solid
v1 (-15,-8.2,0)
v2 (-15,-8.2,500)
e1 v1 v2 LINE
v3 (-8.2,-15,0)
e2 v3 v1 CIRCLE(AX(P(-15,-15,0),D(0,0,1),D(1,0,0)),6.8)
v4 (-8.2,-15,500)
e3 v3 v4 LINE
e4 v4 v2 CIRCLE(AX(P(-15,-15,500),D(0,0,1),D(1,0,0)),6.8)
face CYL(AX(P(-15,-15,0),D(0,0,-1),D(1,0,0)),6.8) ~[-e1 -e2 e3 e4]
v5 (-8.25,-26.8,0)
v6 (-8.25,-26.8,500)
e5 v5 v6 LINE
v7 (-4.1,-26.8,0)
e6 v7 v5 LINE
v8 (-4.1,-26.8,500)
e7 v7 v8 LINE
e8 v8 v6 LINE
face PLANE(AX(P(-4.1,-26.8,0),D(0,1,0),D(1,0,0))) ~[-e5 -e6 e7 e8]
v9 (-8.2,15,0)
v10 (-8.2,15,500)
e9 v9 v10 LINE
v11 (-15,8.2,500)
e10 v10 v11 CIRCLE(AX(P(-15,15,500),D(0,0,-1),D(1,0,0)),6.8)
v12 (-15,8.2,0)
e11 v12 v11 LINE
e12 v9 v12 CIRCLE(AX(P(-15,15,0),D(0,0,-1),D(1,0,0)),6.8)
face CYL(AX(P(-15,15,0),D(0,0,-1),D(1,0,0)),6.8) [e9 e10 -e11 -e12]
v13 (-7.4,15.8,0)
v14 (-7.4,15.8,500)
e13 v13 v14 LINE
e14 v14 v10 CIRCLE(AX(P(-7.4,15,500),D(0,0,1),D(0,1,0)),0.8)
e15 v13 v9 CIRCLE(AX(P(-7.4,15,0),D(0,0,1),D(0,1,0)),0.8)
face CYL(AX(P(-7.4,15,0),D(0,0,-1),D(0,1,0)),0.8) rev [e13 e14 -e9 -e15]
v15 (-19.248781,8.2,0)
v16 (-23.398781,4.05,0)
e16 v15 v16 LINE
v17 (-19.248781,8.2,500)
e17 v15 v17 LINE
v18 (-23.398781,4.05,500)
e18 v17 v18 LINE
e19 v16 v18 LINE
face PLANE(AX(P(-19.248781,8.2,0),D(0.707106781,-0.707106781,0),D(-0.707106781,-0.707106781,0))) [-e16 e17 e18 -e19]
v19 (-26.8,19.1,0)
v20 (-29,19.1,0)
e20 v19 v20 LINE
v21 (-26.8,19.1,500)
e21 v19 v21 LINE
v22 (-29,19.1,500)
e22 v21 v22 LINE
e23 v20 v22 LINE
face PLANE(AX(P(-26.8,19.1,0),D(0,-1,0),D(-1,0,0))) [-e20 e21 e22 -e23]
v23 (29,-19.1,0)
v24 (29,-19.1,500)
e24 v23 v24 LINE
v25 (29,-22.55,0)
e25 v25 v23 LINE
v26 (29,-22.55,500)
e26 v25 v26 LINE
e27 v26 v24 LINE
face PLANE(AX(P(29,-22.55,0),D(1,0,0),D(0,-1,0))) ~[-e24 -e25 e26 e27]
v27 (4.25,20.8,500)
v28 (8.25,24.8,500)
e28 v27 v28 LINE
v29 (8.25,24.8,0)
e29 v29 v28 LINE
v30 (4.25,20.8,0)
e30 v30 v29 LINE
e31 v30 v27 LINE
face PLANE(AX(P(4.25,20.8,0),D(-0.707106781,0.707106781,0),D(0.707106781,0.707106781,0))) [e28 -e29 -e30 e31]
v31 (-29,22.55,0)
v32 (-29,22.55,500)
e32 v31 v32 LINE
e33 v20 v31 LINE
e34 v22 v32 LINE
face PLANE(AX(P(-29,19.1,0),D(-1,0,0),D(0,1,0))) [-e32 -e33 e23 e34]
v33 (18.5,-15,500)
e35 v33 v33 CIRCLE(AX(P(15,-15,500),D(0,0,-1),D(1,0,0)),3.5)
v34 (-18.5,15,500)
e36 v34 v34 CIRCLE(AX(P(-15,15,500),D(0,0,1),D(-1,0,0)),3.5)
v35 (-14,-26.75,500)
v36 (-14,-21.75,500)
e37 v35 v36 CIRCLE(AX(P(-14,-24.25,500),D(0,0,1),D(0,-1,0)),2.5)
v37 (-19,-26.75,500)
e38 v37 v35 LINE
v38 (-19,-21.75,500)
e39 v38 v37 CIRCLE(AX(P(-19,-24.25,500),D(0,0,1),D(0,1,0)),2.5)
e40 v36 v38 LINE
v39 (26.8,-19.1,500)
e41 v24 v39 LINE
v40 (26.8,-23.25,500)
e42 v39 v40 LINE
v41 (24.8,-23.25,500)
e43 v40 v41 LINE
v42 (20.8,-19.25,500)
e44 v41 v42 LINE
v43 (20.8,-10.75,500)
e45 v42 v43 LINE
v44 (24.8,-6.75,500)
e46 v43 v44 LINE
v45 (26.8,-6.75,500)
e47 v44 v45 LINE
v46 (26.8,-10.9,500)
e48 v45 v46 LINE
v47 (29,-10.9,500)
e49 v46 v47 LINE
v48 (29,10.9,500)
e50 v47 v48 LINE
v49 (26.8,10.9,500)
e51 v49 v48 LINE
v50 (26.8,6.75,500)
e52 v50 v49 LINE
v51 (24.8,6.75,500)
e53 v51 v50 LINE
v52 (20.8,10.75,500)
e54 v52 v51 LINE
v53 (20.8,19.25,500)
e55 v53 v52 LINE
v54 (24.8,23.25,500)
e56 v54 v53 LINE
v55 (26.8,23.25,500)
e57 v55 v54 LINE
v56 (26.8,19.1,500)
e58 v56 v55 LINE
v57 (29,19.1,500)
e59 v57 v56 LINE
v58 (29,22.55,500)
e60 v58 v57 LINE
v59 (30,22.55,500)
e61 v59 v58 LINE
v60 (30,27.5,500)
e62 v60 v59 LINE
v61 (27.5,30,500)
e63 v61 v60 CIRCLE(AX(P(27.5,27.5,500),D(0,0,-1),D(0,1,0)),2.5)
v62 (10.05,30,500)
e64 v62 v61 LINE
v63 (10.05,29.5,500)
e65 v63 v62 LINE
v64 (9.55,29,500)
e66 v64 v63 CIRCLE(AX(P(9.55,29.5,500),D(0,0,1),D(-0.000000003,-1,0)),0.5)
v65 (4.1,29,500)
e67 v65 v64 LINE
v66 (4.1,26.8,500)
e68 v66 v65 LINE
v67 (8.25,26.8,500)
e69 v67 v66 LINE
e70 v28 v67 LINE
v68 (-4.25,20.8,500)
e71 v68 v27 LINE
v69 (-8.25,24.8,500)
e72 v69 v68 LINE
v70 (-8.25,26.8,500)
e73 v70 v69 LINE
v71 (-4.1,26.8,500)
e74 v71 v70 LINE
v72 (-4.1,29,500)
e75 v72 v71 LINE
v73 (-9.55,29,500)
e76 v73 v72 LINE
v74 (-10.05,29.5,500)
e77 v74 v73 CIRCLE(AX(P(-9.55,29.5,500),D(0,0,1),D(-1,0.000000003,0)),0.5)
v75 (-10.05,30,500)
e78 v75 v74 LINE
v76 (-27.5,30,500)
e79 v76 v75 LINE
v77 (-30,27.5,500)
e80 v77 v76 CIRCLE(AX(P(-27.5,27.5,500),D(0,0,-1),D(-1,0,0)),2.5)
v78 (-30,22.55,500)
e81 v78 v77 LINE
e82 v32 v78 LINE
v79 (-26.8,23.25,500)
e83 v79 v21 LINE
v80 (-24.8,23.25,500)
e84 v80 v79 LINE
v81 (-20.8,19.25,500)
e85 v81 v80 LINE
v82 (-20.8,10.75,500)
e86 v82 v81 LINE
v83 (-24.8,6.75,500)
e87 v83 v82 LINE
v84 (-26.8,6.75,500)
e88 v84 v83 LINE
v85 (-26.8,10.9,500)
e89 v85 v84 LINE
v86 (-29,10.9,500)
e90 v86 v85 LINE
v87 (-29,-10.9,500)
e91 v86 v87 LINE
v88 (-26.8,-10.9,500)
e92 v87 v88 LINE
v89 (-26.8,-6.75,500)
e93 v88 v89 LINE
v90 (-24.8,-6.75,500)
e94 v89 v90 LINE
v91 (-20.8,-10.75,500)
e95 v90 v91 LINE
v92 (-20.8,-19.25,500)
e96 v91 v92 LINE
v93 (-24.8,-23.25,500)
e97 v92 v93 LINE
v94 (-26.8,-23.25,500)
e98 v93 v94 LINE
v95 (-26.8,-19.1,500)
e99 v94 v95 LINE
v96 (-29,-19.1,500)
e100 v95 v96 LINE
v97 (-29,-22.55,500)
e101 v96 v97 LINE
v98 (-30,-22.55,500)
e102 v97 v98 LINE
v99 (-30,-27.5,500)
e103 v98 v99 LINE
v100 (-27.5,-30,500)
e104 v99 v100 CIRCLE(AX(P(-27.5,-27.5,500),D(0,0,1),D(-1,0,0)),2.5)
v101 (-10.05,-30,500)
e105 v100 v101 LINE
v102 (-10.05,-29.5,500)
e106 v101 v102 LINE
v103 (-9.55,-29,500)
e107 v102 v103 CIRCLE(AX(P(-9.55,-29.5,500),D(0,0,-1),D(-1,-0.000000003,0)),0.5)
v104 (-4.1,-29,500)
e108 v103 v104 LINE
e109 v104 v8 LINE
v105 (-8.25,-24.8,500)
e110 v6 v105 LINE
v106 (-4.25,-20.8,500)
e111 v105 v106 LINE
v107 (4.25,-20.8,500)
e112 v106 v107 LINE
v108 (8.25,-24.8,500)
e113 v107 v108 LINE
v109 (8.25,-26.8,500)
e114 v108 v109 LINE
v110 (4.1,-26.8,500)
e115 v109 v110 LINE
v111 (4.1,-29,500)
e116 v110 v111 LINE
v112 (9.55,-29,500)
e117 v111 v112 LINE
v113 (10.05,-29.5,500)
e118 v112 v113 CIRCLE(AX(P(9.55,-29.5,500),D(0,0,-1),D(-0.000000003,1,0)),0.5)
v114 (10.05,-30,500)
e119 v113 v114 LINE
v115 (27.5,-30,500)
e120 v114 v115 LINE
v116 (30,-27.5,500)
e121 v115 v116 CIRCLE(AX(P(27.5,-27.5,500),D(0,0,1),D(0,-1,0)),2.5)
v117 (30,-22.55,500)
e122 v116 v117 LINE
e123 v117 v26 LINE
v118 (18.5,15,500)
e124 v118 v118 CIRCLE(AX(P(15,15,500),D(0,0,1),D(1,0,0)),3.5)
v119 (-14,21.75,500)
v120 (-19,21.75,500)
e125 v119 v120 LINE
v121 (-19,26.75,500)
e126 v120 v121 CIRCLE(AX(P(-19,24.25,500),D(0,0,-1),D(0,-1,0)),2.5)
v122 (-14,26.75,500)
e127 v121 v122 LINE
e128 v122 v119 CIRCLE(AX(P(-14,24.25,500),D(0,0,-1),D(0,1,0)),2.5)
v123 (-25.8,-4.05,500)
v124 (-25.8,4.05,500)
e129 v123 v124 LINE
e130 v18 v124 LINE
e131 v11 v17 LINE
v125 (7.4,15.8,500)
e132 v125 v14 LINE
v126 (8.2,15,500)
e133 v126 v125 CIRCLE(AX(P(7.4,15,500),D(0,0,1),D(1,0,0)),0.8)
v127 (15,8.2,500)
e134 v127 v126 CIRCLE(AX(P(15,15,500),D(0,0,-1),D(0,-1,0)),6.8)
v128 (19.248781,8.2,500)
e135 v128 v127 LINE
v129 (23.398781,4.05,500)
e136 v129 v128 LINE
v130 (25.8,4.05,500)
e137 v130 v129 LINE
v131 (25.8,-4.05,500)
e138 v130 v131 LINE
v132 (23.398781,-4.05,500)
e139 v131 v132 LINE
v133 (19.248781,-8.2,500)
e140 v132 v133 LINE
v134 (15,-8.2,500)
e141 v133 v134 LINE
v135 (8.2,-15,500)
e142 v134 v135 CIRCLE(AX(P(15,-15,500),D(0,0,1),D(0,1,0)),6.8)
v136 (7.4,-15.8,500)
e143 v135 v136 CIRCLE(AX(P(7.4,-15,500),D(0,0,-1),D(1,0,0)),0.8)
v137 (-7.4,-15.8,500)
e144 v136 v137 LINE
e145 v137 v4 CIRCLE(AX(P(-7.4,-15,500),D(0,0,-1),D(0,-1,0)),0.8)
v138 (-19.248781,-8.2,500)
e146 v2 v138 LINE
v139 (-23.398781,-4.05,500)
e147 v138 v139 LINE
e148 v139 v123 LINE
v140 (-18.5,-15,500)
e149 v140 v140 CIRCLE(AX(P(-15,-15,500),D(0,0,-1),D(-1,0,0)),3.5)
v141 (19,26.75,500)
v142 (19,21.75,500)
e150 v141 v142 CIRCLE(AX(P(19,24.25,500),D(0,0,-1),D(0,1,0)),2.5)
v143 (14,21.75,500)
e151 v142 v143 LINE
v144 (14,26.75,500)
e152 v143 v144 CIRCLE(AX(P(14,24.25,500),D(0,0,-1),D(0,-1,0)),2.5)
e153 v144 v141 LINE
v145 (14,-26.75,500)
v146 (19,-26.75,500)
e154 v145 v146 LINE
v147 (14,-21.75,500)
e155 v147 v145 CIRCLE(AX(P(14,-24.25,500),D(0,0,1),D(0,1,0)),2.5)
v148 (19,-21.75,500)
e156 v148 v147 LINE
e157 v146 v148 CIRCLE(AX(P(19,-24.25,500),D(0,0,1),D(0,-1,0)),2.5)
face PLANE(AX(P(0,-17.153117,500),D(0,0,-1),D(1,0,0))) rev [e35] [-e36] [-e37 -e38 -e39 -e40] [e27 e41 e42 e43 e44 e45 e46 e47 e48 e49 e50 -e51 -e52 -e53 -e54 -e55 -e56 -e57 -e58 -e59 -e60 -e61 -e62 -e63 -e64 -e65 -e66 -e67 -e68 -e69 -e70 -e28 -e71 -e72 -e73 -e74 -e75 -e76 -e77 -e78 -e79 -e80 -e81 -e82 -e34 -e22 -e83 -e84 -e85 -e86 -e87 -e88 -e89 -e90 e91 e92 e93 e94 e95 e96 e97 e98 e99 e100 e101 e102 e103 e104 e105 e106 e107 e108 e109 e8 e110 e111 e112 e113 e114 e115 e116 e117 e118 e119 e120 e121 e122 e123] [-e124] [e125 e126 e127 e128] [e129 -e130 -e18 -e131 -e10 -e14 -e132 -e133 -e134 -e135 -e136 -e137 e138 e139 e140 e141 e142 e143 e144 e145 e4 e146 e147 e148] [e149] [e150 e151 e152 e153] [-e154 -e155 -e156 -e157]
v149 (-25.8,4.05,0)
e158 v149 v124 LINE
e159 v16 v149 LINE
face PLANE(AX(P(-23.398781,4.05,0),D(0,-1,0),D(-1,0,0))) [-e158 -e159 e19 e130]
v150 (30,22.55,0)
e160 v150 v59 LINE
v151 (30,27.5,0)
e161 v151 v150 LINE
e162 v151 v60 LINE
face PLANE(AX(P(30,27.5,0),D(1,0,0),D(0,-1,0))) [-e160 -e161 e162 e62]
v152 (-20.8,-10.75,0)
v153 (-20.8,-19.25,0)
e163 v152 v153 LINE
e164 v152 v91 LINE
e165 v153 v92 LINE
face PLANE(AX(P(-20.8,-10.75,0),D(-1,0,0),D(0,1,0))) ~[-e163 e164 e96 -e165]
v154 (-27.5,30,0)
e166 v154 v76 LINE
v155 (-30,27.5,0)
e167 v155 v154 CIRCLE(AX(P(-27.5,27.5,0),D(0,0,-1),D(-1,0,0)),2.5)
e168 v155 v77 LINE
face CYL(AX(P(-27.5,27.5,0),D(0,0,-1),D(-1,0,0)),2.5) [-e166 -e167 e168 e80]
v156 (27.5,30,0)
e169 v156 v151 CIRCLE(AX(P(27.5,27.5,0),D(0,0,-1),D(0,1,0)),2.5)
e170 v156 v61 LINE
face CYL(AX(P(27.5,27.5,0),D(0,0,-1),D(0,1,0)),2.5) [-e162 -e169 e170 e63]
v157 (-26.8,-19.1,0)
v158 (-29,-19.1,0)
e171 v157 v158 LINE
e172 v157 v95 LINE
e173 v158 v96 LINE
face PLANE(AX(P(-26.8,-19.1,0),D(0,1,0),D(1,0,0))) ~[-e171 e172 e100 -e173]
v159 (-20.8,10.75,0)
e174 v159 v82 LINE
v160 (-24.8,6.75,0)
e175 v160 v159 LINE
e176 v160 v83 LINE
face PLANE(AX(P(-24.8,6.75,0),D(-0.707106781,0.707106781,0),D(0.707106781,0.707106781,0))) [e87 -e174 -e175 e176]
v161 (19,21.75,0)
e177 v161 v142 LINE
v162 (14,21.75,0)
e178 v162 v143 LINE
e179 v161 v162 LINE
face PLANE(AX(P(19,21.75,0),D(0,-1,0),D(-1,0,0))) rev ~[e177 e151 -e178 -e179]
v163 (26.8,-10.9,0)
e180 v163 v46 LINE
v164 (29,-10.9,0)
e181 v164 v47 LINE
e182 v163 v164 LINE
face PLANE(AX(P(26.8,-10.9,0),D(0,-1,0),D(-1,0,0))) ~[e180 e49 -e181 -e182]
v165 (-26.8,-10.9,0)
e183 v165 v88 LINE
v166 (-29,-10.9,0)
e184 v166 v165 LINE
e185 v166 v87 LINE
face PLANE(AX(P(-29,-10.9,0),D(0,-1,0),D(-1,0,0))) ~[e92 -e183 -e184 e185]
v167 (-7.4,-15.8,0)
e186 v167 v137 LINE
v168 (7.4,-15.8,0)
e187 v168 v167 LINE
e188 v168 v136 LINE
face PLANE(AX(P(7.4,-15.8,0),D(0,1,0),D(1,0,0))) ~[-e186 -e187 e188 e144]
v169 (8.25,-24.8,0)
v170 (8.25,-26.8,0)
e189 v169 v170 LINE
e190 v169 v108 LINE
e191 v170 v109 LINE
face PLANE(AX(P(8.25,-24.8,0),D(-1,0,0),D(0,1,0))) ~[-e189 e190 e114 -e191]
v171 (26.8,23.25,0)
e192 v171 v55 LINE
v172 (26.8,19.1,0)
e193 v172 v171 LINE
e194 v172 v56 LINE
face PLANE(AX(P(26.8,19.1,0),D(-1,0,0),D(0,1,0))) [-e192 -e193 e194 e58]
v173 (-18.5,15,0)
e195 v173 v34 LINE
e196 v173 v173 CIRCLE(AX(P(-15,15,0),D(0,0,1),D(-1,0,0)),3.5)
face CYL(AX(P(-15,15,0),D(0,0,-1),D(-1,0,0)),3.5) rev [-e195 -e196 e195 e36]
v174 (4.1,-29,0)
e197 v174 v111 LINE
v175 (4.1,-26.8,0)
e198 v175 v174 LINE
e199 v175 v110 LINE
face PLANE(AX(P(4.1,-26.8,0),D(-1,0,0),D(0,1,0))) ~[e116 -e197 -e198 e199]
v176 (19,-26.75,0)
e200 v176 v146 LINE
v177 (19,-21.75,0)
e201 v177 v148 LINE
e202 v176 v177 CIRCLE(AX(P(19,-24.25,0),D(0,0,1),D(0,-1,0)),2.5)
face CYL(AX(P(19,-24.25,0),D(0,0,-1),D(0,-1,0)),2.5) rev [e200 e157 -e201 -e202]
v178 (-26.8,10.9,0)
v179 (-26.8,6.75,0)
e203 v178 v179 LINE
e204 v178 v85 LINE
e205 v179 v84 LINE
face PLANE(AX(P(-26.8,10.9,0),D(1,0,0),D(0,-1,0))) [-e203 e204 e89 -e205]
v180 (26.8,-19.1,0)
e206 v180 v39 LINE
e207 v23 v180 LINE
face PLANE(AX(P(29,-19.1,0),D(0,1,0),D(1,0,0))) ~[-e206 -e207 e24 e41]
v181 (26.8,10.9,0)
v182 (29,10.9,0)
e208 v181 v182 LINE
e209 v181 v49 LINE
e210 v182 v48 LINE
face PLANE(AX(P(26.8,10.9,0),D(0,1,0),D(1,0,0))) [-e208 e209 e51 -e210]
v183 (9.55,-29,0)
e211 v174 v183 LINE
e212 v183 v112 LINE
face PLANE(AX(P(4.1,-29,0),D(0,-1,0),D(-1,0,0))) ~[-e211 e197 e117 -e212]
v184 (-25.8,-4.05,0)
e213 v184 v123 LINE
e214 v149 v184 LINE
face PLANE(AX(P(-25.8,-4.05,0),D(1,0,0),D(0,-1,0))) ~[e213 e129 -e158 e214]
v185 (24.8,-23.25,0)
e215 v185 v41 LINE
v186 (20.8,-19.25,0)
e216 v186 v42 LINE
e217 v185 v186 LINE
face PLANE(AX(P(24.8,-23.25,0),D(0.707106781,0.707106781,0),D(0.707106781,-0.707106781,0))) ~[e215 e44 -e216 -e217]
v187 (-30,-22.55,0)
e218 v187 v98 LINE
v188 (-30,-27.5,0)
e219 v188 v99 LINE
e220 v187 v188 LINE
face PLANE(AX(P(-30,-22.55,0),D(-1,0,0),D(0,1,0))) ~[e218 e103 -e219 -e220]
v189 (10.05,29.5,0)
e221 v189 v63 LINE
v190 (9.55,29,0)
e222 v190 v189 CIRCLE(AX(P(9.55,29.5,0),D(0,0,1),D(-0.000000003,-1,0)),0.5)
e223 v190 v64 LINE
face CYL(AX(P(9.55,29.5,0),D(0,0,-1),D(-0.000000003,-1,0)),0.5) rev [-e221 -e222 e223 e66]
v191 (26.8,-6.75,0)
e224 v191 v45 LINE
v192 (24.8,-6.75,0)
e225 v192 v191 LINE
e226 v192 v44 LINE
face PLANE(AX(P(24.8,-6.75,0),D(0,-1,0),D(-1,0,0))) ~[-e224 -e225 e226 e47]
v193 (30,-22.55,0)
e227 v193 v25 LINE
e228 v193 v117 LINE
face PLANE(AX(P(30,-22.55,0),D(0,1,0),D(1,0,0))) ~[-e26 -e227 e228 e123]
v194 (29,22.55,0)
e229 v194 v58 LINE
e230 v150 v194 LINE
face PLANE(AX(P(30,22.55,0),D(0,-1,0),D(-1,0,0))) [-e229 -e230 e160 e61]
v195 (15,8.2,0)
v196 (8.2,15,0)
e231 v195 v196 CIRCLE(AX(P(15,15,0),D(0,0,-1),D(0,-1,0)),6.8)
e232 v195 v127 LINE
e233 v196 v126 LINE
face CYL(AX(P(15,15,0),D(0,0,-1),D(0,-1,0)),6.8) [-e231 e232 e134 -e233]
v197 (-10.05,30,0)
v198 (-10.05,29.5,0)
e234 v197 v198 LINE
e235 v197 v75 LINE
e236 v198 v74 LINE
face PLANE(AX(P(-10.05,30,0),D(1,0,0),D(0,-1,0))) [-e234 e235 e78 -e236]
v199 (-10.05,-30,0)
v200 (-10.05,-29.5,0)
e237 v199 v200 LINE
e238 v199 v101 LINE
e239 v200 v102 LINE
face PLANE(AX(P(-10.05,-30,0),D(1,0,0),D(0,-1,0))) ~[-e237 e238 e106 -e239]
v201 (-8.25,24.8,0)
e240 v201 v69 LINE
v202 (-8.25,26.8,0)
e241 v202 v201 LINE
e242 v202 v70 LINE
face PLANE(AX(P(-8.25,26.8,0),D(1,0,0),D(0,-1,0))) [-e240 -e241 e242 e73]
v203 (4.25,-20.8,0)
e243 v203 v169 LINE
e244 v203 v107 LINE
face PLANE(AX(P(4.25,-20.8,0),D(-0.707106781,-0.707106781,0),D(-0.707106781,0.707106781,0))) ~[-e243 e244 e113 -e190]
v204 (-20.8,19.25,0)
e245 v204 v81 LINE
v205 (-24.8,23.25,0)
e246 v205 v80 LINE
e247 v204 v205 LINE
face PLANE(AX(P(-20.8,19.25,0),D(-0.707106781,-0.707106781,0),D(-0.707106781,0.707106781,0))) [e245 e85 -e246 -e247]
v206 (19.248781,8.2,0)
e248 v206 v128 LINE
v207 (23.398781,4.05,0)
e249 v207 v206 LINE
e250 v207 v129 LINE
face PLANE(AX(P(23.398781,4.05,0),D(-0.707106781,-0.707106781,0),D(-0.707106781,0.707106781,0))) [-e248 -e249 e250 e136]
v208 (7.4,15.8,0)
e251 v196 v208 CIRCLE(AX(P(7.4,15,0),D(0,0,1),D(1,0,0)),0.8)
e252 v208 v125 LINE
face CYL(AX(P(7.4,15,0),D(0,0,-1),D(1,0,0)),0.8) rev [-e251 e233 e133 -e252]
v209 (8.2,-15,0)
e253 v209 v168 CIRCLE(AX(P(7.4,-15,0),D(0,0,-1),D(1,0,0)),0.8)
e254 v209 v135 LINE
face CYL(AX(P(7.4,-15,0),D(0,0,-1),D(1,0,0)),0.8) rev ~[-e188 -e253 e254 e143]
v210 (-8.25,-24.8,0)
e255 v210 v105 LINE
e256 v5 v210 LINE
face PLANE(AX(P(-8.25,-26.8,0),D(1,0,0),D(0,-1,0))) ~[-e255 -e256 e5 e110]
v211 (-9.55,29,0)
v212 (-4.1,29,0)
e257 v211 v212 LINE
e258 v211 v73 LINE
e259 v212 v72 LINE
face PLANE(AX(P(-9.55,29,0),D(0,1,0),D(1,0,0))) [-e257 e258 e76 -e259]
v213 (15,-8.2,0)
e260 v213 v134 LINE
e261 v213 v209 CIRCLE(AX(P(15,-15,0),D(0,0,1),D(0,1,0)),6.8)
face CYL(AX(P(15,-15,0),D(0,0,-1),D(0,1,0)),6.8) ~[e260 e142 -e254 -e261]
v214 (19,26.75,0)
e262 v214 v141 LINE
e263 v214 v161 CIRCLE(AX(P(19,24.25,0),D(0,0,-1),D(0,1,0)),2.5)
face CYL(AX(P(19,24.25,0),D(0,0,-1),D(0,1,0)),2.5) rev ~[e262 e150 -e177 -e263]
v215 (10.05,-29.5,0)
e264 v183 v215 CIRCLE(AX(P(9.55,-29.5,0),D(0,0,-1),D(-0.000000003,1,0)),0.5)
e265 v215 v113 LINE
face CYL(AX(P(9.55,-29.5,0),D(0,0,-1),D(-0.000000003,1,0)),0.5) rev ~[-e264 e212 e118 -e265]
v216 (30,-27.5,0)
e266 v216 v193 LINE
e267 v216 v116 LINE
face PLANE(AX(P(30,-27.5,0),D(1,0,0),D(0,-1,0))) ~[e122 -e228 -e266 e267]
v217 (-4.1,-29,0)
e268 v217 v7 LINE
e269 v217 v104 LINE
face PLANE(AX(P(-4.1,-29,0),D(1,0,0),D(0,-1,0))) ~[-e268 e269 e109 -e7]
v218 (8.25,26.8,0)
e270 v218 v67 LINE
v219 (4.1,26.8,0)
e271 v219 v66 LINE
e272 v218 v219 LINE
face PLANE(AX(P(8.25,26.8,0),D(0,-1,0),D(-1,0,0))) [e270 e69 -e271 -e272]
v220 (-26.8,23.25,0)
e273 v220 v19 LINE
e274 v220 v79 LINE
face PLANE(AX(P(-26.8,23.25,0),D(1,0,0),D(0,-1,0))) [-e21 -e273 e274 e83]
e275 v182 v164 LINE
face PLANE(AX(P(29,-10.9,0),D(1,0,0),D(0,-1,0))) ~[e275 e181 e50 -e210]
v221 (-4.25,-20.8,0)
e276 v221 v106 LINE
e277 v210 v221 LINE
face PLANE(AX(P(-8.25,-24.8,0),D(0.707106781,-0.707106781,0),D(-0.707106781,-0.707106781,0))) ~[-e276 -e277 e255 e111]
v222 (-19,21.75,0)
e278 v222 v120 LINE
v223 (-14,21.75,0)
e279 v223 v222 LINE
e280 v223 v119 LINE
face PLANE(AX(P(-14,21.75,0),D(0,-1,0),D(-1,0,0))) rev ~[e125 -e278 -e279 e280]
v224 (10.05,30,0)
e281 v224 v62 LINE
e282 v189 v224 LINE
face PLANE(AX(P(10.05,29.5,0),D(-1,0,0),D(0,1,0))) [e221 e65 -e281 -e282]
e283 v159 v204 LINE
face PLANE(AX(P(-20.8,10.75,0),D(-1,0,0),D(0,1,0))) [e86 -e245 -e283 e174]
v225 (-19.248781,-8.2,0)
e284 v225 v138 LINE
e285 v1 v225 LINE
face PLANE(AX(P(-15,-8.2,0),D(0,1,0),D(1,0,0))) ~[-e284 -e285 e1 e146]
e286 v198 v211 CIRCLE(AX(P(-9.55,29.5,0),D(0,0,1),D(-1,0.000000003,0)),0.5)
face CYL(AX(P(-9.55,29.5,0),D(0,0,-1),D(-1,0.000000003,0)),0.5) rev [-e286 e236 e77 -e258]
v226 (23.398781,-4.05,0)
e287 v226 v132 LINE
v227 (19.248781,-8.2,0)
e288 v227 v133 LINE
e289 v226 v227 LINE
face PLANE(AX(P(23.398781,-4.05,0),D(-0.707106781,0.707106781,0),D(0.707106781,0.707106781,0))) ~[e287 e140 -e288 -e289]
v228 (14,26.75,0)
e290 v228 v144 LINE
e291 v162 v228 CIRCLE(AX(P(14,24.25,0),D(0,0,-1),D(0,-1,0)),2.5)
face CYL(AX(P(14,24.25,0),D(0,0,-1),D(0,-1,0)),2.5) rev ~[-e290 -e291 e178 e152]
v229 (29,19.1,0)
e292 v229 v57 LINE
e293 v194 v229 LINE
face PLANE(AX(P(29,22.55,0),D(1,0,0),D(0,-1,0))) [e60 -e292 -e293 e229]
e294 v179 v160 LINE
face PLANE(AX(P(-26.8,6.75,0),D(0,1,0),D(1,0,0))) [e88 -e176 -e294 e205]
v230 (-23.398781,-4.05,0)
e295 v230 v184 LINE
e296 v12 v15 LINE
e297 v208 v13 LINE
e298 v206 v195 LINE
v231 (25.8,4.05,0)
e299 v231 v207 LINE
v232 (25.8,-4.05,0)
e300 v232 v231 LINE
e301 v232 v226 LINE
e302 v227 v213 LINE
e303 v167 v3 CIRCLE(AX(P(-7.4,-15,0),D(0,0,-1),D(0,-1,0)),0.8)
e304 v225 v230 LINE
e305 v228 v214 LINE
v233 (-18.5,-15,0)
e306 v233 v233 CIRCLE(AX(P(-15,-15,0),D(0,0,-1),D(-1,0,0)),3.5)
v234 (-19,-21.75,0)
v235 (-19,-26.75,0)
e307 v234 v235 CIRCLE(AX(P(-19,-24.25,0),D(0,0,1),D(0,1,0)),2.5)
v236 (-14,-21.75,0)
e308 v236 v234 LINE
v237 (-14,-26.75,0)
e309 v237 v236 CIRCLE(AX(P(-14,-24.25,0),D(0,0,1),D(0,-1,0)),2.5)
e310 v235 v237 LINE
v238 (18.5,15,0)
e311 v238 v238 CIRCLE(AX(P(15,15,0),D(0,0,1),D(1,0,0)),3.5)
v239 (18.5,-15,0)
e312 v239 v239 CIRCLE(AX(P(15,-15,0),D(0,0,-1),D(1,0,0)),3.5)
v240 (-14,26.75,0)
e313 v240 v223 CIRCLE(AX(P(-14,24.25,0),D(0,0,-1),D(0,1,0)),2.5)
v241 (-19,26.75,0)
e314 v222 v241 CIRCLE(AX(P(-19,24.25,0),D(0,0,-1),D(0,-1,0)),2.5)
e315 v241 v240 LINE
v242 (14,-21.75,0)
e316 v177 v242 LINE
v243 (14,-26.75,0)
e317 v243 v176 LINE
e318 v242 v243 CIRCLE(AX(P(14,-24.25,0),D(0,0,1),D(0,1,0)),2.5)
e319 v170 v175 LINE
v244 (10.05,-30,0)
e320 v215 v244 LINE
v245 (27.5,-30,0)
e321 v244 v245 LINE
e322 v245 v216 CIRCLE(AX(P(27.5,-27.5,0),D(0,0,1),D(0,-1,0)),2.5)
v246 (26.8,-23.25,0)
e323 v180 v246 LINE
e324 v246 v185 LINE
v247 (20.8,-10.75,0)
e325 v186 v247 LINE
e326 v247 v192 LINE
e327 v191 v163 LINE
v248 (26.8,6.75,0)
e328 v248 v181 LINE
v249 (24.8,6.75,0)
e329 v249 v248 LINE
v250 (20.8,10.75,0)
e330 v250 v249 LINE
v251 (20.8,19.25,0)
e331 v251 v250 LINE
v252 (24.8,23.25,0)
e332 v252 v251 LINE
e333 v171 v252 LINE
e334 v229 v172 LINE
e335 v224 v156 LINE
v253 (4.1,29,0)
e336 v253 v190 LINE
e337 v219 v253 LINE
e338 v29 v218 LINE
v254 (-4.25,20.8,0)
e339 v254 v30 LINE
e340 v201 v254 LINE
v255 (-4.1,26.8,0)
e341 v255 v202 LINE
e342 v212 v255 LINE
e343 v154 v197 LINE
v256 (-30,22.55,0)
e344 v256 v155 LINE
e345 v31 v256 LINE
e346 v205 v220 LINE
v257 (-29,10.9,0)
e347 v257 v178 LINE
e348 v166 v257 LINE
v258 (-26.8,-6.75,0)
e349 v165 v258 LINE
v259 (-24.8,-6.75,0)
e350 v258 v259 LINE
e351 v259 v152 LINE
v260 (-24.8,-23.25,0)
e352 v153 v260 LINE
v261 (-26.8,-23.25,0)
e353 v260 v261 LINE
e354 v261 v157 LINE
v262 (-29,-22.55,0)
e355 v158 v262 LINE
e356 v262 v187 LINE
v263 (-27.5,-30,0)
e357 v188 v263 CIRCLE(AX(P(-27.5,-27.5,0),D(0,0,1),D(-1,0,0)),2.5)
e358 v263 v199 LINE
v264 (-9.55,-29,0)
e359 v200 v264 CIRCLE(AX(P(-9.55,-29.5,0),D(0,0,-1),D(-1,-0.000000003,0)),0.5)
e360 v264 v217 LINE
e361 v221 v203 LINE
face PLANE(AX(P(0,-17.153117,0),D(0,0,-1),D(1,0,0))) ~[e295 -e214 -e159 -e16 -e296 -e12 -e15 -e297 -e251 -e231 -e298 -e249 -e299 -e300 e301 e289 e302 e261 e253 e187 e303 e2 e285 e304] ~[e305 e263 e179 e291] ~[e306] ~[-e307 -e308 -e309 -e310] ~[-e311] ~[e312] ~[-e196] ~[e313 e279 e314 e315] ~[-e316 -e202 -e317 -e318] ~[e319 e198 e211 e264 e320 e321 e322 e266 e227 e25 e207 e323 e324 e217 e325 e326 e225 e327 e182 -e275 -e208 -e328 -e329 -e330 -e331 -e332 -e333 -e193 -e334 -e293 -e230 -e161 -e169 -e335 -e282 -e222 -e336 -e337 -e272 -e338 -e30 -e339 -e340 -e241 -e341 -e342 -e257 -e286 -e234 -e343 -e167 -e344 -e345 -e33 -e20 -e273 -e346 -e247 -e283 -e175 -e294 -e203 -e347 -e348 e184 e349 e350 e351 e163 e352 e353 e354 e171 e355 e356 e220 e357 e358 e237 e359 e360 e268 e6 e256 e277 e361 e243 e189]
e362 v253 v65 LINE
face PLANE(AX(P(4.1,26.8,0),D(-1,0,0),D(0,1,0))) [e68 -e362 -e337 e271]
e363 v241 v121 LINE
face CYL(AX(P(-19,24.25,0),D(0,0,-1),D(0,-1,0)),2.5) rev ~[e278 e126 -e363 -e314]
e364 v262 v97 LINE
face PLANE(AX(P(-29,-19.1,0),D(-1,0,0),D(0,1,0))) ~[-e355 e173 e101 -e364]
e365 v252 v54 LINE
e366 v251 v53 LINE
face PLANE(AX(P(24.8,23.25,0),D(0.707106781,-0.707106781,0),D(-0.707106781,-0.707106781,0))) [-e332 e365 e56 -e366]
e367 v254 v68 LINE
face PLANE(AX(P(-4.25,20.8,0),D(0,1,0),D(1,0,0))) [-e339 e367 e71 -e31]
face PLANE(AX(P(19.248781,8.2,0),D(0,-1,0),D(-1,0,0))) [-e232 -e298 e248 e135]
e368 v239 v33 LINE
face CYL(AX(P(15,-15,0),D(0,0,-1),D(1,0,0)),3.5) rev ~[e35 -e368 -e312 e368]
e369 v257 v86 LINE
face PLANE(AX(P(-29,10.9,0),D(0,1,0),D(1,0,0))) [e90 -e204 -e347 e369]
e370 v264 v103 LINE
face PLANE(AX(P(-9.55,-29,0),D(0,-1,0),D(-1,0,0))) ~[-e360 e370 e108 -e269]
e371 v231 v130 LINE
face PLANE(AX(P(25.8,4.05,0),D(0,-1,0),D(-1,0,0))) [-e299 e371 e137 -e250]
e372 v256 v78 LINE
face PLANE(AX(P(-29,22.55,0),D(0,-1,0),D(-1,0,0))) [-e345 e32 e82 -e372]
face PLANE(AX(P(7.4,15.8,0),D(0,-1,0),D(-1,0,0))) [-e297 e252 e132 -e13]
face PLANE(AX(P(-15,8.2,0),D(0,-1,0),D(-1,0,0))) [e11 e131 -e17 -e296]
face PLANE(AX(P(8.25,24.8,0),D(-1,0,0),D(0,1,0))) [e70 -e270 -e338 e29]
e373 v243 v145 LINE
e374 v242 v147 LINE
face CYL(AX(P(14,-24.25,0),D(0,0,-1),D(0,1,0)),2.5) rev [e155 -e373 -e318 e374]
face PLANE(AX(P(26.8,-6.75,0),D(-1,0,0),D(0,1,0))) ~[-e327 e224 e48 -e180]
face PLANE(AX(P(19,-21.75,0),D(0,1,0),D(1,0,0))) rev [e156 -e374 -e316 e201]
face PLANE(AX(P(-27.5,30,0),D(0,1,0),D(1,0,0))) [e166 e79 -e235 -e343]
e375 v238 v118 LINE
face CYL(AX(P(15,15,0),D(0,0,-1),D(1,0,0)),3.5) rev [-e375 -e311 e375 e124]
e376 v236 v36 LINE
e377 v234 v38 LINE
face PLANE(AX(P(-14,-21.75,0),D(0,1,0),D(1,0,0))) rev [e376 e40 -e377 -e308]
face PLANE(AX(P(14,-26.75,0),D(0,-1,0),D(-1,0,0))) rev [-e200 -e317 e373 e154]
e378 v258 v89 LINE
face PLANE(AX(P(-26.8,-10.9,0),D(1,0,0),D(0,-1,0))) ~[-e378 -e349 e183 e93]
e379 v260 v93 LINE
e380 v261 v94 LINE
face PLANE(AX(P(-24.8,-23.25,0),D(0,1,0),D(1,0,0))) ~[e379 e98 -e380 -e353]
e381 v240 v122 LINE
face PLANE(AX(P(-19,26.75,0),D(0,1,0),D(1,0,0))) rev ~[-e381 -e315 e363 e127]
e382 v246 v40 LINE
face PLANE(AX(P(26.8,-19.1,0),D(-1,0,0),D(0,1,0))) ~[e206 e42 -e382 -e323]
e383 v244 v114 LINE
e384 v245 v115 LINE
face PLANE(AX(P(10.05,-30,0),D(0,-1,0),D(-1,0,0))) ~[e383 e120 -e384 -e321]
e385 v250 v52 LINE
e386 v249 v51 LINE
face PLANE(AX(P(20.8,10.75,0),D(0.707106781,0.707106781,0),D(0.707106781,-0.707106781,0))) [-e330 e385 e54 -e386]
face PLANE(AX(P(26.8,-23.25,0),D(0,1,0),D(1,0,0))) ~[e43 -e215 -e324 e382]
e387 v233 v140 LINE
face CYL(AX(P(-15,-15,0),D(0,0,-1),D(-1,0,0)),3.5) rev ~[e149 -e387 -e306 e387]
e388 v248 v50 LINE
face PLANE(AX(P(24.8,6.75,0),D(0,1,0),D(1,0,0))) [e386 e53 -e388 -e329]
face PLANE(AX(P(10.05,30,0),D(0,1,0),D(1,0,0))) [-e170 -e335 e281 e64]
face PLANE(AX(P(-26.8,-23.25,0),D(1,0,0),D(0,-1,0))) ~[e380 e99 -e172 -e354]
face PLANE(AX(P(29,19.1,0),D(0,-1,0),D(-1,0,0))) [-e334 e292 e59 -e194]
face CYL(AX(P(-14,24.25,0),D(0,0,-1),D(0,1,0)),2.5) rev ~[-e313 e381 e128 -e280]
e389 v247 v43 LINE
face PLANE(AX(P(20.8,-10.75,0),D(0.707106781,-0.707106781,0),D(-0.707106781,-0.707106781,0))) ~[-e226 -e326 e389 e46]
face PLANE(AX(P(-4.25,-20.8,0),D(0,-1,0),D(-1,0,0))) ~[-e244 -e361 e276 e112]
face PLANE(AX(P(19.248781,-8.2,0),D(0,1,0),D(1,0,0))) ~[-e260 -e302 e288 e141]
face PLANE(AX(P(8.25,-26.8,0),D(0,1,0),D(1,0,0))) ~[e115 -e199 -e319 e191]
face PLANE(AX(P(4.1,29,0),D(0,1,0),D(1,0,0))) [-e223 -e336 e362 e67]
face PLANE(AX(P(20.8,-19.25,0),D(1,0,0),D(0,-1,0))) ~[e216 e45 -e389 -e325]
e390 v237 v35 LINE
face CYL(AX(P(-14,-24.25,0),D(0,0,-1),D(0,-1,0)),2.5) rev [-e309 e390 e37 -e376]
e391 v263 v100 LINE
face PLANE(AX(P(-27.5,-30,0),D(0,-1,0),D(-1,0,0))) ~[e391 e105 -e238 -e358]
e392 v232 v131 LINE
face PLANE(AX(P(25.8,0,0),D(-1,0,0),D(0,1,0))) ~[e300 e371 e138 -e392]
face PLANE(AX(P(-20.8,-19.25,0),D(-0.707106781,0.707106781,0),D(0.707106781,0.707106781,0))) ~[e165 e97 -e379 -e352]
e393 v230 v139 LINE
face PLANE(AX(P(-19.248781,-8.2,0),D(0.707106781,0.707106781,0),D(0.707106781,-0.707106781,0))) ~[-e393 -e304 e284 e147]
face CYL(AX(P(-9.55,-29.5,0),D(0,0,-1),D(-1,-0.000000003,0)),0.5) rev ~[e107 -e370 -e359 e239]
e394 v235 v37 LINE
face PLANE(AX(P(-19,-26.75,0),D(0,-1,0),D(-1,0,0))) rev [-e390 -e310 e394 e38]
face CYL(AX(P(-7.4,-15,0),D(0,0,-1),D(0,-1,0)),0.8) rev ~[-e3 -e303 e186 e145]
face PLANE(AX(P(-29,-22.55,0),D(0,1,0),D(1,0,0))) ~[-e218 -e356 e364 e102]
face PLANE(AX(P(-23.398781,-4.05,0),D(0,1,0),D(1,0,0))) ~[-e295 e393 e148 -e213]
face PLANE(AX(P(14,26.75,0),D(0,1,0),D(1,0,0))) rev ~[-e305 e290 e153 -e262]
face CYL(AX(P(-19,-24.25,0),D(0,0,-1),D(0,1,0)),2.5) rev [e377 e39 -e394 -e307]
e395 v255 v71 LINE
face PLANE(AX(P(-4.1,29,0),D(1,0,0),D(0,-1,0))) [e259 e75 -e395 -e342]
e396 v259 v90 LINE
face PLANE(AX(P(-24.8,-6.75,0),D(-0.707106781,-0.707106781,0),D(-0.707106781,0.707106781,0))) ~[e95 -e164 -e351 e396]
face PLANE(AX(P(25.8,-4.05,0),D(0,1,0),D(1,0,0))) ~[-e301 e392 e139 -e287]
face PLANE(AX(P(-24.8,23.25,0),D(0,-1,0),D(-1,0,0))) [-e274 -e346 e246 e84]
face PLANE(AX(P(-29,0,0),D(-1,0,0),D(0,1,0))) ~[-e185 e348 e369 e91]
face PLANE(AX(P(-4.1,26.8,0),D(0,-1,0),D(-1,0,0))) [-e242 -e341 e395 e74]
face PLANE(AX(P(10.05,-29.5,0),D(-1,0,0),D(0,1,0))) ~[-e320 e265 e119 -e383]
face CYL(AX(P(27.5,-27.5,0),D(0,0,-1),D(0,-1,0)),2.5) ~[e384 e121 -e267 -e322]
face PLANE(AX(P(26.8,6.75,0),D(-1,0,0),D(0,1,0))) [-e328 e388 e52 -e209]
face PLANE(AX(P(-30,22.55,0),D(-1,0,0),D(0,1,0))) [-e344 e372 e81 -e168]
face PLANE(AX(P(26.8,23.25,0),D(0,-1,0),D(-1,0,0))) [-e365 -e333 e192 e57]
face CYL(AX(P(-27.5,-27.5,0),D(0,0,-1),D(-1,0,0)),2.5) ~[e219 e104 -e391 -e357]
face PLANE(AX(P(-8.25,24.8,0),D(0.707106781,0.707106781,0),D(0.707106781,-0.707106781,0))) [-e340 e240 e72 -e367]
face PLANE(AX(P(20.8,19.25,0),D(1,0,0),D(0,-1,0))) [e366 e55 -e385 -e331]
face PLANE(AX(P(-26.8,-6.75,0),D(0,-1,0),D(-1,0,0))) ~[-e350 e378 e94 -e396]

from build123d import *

# Parameters (mm, degrees)
SKETCH_2_R      = 3.5
EXTRUDE_3_DEPTH = 500


with BuildPart() as part:
    # Эскиз2 → Бобышка-Вытянуть3 (new body)
    with BuildSketch(Plane.XY):
        with BuildLine():
            Line((-4.25, 20.8), (4.25, 20.8))
            Line((4.25, 20.8), (8.25, 24.8))
            Line((8.25, 24.8), (8.25, 26.8))
            Line((8.25, 26.8), (4.1, 26.8))
            Line((4.1, 26.8), (4.1, 29))
            Line((4.1, 29), (9.55, 29))
            ThreePointArc((9.55, 29), (9.903553391, 29.146446609), (10.05, 29.5))
            Line((10.05, 29.5), (10.05, 30))
            Line((10.05, 30), (27.5, 30))
            ThreePointArc((27.5, 30), (29.267766953, 29.267766953), (30, 27.5))
            Line((30, 27.5), (30, 22.55))
            Line((30, 22.55), (29, 22.55))
            Line((29, 22.55), (29, 19.1))
            Line((29, 19.1), (26.8, 19.1))
            Line((26.8, 19.1), (26.8, 23.25))
            Line((26.8, 23.25), (24.8, 23.25))
            Line((24.8, 23.25), (20.8, 19.25))
            Line((20.8, 19.25), (20.8, 10.75))
            Line((20.8, 10.75), (24.8, 6.75))
            Line((24.8, 6.75), (26.8, 6.75))
            Line((26.8, 6.75), (26.8, 10.9))
            Line((26.8, 10.9), (29, 10.9))
            Line((29, 10.9), (29, 0))
            Line((29, 0), (25.8, 0))
            Line((25.8, 0), (25.8, 4.05))
            Line((25.8, 4.05), (23.398780669, 4.05))
            Line((23.398780669, 4.05), (19.248780669, 8.2))
            Line((19.248780669, 8.2), (15, 8.2))
            ThreePointArc((15, 8.2), (10.191673888, 10.191673888), (8.2, 15))
            ThreePointArc((8.2, 15), (7.965685425, 15.565685425), (7.4, 15.8))
            Line((7.4, 15.8), (-7.4, 15.8))
            ThreePointArc((-7.4, 15.8), (-7.965685425, 15.565685425), (-8.2, 15))
            ThreePointArc((-8.2, 15), (-10.191673888, 10.191673888), (-15, 8.2))
            Line((-15, 8.2), (-19.248780669, 8.2))
            Line((-19.248780669, 8.2), (-23.398780669, 4.05))
            Line((-23.398780669, 4.05), (-25.8, 4.05))
            Line((-25.8, 4.05), (-25.8, 0))
            Line((-25.8, 0), (-29, 0))
            Line((-29, 0), (-29, 10.9))
            Line((-29, 10.9), (-26.8, 10.9))
            Line((-26.8, 10.9), (-26.8, 6.75))
            Line((-26.8, 6.75), (-24.8, 6.75))
            Line((-24.8, 6.75), (-20.8, 10.75))
            Line((-20.8, 10.75), (-20.8, 19.25))
            Line((-20.8, 19.25), (-24.8, 23.25))
            Line((-24.8, 23.25), (-26.8, 23.25))
            Line((-26.8, 23.25), (-26.8, 19.1))
            Line((-26.8, 19.1), (-29, 19.1))
            Line((-29, 19.1), (-29, 22.55))
            Line((-29, 22.55), (-30, 22.55))
            Line((-30, 22.55), (-30, 27.5))
            ThreePointArc((-30, 27.5), (-29.267766953, 29.267766953), (-27.5, 30))
            Line((-27.5, 30), (-10.05, 30))
            Line((-10.05, 30), (-10.05, 29.5))
            ThreePointArc((-10.05, 29.5), (-9.903553391, 29.146446609), (-9.55, 29))
            Line((-9.55, 29), (-4.1, 29))
            Line((-4.1, 29), (-4.1, 26.8))
            Line((-4.1, 26.8), (-8.25, 26.8))
            Line((-8.25, 26.8), (-8.25, 24.8))
            Line((-8.25, 24.8), (-4.25, 20.8))
        make_face()
        with Locations((15, 15)):
            Circle(SKETCH_2_R, mode=Mode.SUBTRACT)
        with Locations(Location((-15, 15, 0), (0, 0, 180))):
            Circle(SKETCH_2_R, mode=Mode.SUBTRACT)
        with BuildLine():
            Line((14, 26.75), (19, 26.75))
            ThreePointArc((19, 26.75), (21.5, 24.25), (19, 21.75))
            Line((19, 21.75), (14, 21.75))
            ThreePointArc((14, 21.75), (11.5, 24.25), (14, 26.75))
        make_face(mode=Mode.SUBTRACT)
        with BuildLine():
            Line((-14, 21.75), (-19, 21.75))
            ThreePointArc((-19, 21.75), (-21.5, 24.25), (-19, 26.75))
            Line((-19, 26.75), (-14, 26.75))
            ThreePointArc((-14, 26.75), (-11.5, 24.25), (-14, 21.75))
        make_face(mode=Mode.SUBTRACT)
    extrude_3 = extrude(amount=EXTRUDE_3_DEPTH)

    # Зеркальное отражение13: Бобышка-Вытянуть3 across plane
    add(extrude_3.mirror(Plane(origin=(25.8, 0, 500), x_dir=(0, 0, 1), z_dir=(0, 1, 0))))


solid = part.part
